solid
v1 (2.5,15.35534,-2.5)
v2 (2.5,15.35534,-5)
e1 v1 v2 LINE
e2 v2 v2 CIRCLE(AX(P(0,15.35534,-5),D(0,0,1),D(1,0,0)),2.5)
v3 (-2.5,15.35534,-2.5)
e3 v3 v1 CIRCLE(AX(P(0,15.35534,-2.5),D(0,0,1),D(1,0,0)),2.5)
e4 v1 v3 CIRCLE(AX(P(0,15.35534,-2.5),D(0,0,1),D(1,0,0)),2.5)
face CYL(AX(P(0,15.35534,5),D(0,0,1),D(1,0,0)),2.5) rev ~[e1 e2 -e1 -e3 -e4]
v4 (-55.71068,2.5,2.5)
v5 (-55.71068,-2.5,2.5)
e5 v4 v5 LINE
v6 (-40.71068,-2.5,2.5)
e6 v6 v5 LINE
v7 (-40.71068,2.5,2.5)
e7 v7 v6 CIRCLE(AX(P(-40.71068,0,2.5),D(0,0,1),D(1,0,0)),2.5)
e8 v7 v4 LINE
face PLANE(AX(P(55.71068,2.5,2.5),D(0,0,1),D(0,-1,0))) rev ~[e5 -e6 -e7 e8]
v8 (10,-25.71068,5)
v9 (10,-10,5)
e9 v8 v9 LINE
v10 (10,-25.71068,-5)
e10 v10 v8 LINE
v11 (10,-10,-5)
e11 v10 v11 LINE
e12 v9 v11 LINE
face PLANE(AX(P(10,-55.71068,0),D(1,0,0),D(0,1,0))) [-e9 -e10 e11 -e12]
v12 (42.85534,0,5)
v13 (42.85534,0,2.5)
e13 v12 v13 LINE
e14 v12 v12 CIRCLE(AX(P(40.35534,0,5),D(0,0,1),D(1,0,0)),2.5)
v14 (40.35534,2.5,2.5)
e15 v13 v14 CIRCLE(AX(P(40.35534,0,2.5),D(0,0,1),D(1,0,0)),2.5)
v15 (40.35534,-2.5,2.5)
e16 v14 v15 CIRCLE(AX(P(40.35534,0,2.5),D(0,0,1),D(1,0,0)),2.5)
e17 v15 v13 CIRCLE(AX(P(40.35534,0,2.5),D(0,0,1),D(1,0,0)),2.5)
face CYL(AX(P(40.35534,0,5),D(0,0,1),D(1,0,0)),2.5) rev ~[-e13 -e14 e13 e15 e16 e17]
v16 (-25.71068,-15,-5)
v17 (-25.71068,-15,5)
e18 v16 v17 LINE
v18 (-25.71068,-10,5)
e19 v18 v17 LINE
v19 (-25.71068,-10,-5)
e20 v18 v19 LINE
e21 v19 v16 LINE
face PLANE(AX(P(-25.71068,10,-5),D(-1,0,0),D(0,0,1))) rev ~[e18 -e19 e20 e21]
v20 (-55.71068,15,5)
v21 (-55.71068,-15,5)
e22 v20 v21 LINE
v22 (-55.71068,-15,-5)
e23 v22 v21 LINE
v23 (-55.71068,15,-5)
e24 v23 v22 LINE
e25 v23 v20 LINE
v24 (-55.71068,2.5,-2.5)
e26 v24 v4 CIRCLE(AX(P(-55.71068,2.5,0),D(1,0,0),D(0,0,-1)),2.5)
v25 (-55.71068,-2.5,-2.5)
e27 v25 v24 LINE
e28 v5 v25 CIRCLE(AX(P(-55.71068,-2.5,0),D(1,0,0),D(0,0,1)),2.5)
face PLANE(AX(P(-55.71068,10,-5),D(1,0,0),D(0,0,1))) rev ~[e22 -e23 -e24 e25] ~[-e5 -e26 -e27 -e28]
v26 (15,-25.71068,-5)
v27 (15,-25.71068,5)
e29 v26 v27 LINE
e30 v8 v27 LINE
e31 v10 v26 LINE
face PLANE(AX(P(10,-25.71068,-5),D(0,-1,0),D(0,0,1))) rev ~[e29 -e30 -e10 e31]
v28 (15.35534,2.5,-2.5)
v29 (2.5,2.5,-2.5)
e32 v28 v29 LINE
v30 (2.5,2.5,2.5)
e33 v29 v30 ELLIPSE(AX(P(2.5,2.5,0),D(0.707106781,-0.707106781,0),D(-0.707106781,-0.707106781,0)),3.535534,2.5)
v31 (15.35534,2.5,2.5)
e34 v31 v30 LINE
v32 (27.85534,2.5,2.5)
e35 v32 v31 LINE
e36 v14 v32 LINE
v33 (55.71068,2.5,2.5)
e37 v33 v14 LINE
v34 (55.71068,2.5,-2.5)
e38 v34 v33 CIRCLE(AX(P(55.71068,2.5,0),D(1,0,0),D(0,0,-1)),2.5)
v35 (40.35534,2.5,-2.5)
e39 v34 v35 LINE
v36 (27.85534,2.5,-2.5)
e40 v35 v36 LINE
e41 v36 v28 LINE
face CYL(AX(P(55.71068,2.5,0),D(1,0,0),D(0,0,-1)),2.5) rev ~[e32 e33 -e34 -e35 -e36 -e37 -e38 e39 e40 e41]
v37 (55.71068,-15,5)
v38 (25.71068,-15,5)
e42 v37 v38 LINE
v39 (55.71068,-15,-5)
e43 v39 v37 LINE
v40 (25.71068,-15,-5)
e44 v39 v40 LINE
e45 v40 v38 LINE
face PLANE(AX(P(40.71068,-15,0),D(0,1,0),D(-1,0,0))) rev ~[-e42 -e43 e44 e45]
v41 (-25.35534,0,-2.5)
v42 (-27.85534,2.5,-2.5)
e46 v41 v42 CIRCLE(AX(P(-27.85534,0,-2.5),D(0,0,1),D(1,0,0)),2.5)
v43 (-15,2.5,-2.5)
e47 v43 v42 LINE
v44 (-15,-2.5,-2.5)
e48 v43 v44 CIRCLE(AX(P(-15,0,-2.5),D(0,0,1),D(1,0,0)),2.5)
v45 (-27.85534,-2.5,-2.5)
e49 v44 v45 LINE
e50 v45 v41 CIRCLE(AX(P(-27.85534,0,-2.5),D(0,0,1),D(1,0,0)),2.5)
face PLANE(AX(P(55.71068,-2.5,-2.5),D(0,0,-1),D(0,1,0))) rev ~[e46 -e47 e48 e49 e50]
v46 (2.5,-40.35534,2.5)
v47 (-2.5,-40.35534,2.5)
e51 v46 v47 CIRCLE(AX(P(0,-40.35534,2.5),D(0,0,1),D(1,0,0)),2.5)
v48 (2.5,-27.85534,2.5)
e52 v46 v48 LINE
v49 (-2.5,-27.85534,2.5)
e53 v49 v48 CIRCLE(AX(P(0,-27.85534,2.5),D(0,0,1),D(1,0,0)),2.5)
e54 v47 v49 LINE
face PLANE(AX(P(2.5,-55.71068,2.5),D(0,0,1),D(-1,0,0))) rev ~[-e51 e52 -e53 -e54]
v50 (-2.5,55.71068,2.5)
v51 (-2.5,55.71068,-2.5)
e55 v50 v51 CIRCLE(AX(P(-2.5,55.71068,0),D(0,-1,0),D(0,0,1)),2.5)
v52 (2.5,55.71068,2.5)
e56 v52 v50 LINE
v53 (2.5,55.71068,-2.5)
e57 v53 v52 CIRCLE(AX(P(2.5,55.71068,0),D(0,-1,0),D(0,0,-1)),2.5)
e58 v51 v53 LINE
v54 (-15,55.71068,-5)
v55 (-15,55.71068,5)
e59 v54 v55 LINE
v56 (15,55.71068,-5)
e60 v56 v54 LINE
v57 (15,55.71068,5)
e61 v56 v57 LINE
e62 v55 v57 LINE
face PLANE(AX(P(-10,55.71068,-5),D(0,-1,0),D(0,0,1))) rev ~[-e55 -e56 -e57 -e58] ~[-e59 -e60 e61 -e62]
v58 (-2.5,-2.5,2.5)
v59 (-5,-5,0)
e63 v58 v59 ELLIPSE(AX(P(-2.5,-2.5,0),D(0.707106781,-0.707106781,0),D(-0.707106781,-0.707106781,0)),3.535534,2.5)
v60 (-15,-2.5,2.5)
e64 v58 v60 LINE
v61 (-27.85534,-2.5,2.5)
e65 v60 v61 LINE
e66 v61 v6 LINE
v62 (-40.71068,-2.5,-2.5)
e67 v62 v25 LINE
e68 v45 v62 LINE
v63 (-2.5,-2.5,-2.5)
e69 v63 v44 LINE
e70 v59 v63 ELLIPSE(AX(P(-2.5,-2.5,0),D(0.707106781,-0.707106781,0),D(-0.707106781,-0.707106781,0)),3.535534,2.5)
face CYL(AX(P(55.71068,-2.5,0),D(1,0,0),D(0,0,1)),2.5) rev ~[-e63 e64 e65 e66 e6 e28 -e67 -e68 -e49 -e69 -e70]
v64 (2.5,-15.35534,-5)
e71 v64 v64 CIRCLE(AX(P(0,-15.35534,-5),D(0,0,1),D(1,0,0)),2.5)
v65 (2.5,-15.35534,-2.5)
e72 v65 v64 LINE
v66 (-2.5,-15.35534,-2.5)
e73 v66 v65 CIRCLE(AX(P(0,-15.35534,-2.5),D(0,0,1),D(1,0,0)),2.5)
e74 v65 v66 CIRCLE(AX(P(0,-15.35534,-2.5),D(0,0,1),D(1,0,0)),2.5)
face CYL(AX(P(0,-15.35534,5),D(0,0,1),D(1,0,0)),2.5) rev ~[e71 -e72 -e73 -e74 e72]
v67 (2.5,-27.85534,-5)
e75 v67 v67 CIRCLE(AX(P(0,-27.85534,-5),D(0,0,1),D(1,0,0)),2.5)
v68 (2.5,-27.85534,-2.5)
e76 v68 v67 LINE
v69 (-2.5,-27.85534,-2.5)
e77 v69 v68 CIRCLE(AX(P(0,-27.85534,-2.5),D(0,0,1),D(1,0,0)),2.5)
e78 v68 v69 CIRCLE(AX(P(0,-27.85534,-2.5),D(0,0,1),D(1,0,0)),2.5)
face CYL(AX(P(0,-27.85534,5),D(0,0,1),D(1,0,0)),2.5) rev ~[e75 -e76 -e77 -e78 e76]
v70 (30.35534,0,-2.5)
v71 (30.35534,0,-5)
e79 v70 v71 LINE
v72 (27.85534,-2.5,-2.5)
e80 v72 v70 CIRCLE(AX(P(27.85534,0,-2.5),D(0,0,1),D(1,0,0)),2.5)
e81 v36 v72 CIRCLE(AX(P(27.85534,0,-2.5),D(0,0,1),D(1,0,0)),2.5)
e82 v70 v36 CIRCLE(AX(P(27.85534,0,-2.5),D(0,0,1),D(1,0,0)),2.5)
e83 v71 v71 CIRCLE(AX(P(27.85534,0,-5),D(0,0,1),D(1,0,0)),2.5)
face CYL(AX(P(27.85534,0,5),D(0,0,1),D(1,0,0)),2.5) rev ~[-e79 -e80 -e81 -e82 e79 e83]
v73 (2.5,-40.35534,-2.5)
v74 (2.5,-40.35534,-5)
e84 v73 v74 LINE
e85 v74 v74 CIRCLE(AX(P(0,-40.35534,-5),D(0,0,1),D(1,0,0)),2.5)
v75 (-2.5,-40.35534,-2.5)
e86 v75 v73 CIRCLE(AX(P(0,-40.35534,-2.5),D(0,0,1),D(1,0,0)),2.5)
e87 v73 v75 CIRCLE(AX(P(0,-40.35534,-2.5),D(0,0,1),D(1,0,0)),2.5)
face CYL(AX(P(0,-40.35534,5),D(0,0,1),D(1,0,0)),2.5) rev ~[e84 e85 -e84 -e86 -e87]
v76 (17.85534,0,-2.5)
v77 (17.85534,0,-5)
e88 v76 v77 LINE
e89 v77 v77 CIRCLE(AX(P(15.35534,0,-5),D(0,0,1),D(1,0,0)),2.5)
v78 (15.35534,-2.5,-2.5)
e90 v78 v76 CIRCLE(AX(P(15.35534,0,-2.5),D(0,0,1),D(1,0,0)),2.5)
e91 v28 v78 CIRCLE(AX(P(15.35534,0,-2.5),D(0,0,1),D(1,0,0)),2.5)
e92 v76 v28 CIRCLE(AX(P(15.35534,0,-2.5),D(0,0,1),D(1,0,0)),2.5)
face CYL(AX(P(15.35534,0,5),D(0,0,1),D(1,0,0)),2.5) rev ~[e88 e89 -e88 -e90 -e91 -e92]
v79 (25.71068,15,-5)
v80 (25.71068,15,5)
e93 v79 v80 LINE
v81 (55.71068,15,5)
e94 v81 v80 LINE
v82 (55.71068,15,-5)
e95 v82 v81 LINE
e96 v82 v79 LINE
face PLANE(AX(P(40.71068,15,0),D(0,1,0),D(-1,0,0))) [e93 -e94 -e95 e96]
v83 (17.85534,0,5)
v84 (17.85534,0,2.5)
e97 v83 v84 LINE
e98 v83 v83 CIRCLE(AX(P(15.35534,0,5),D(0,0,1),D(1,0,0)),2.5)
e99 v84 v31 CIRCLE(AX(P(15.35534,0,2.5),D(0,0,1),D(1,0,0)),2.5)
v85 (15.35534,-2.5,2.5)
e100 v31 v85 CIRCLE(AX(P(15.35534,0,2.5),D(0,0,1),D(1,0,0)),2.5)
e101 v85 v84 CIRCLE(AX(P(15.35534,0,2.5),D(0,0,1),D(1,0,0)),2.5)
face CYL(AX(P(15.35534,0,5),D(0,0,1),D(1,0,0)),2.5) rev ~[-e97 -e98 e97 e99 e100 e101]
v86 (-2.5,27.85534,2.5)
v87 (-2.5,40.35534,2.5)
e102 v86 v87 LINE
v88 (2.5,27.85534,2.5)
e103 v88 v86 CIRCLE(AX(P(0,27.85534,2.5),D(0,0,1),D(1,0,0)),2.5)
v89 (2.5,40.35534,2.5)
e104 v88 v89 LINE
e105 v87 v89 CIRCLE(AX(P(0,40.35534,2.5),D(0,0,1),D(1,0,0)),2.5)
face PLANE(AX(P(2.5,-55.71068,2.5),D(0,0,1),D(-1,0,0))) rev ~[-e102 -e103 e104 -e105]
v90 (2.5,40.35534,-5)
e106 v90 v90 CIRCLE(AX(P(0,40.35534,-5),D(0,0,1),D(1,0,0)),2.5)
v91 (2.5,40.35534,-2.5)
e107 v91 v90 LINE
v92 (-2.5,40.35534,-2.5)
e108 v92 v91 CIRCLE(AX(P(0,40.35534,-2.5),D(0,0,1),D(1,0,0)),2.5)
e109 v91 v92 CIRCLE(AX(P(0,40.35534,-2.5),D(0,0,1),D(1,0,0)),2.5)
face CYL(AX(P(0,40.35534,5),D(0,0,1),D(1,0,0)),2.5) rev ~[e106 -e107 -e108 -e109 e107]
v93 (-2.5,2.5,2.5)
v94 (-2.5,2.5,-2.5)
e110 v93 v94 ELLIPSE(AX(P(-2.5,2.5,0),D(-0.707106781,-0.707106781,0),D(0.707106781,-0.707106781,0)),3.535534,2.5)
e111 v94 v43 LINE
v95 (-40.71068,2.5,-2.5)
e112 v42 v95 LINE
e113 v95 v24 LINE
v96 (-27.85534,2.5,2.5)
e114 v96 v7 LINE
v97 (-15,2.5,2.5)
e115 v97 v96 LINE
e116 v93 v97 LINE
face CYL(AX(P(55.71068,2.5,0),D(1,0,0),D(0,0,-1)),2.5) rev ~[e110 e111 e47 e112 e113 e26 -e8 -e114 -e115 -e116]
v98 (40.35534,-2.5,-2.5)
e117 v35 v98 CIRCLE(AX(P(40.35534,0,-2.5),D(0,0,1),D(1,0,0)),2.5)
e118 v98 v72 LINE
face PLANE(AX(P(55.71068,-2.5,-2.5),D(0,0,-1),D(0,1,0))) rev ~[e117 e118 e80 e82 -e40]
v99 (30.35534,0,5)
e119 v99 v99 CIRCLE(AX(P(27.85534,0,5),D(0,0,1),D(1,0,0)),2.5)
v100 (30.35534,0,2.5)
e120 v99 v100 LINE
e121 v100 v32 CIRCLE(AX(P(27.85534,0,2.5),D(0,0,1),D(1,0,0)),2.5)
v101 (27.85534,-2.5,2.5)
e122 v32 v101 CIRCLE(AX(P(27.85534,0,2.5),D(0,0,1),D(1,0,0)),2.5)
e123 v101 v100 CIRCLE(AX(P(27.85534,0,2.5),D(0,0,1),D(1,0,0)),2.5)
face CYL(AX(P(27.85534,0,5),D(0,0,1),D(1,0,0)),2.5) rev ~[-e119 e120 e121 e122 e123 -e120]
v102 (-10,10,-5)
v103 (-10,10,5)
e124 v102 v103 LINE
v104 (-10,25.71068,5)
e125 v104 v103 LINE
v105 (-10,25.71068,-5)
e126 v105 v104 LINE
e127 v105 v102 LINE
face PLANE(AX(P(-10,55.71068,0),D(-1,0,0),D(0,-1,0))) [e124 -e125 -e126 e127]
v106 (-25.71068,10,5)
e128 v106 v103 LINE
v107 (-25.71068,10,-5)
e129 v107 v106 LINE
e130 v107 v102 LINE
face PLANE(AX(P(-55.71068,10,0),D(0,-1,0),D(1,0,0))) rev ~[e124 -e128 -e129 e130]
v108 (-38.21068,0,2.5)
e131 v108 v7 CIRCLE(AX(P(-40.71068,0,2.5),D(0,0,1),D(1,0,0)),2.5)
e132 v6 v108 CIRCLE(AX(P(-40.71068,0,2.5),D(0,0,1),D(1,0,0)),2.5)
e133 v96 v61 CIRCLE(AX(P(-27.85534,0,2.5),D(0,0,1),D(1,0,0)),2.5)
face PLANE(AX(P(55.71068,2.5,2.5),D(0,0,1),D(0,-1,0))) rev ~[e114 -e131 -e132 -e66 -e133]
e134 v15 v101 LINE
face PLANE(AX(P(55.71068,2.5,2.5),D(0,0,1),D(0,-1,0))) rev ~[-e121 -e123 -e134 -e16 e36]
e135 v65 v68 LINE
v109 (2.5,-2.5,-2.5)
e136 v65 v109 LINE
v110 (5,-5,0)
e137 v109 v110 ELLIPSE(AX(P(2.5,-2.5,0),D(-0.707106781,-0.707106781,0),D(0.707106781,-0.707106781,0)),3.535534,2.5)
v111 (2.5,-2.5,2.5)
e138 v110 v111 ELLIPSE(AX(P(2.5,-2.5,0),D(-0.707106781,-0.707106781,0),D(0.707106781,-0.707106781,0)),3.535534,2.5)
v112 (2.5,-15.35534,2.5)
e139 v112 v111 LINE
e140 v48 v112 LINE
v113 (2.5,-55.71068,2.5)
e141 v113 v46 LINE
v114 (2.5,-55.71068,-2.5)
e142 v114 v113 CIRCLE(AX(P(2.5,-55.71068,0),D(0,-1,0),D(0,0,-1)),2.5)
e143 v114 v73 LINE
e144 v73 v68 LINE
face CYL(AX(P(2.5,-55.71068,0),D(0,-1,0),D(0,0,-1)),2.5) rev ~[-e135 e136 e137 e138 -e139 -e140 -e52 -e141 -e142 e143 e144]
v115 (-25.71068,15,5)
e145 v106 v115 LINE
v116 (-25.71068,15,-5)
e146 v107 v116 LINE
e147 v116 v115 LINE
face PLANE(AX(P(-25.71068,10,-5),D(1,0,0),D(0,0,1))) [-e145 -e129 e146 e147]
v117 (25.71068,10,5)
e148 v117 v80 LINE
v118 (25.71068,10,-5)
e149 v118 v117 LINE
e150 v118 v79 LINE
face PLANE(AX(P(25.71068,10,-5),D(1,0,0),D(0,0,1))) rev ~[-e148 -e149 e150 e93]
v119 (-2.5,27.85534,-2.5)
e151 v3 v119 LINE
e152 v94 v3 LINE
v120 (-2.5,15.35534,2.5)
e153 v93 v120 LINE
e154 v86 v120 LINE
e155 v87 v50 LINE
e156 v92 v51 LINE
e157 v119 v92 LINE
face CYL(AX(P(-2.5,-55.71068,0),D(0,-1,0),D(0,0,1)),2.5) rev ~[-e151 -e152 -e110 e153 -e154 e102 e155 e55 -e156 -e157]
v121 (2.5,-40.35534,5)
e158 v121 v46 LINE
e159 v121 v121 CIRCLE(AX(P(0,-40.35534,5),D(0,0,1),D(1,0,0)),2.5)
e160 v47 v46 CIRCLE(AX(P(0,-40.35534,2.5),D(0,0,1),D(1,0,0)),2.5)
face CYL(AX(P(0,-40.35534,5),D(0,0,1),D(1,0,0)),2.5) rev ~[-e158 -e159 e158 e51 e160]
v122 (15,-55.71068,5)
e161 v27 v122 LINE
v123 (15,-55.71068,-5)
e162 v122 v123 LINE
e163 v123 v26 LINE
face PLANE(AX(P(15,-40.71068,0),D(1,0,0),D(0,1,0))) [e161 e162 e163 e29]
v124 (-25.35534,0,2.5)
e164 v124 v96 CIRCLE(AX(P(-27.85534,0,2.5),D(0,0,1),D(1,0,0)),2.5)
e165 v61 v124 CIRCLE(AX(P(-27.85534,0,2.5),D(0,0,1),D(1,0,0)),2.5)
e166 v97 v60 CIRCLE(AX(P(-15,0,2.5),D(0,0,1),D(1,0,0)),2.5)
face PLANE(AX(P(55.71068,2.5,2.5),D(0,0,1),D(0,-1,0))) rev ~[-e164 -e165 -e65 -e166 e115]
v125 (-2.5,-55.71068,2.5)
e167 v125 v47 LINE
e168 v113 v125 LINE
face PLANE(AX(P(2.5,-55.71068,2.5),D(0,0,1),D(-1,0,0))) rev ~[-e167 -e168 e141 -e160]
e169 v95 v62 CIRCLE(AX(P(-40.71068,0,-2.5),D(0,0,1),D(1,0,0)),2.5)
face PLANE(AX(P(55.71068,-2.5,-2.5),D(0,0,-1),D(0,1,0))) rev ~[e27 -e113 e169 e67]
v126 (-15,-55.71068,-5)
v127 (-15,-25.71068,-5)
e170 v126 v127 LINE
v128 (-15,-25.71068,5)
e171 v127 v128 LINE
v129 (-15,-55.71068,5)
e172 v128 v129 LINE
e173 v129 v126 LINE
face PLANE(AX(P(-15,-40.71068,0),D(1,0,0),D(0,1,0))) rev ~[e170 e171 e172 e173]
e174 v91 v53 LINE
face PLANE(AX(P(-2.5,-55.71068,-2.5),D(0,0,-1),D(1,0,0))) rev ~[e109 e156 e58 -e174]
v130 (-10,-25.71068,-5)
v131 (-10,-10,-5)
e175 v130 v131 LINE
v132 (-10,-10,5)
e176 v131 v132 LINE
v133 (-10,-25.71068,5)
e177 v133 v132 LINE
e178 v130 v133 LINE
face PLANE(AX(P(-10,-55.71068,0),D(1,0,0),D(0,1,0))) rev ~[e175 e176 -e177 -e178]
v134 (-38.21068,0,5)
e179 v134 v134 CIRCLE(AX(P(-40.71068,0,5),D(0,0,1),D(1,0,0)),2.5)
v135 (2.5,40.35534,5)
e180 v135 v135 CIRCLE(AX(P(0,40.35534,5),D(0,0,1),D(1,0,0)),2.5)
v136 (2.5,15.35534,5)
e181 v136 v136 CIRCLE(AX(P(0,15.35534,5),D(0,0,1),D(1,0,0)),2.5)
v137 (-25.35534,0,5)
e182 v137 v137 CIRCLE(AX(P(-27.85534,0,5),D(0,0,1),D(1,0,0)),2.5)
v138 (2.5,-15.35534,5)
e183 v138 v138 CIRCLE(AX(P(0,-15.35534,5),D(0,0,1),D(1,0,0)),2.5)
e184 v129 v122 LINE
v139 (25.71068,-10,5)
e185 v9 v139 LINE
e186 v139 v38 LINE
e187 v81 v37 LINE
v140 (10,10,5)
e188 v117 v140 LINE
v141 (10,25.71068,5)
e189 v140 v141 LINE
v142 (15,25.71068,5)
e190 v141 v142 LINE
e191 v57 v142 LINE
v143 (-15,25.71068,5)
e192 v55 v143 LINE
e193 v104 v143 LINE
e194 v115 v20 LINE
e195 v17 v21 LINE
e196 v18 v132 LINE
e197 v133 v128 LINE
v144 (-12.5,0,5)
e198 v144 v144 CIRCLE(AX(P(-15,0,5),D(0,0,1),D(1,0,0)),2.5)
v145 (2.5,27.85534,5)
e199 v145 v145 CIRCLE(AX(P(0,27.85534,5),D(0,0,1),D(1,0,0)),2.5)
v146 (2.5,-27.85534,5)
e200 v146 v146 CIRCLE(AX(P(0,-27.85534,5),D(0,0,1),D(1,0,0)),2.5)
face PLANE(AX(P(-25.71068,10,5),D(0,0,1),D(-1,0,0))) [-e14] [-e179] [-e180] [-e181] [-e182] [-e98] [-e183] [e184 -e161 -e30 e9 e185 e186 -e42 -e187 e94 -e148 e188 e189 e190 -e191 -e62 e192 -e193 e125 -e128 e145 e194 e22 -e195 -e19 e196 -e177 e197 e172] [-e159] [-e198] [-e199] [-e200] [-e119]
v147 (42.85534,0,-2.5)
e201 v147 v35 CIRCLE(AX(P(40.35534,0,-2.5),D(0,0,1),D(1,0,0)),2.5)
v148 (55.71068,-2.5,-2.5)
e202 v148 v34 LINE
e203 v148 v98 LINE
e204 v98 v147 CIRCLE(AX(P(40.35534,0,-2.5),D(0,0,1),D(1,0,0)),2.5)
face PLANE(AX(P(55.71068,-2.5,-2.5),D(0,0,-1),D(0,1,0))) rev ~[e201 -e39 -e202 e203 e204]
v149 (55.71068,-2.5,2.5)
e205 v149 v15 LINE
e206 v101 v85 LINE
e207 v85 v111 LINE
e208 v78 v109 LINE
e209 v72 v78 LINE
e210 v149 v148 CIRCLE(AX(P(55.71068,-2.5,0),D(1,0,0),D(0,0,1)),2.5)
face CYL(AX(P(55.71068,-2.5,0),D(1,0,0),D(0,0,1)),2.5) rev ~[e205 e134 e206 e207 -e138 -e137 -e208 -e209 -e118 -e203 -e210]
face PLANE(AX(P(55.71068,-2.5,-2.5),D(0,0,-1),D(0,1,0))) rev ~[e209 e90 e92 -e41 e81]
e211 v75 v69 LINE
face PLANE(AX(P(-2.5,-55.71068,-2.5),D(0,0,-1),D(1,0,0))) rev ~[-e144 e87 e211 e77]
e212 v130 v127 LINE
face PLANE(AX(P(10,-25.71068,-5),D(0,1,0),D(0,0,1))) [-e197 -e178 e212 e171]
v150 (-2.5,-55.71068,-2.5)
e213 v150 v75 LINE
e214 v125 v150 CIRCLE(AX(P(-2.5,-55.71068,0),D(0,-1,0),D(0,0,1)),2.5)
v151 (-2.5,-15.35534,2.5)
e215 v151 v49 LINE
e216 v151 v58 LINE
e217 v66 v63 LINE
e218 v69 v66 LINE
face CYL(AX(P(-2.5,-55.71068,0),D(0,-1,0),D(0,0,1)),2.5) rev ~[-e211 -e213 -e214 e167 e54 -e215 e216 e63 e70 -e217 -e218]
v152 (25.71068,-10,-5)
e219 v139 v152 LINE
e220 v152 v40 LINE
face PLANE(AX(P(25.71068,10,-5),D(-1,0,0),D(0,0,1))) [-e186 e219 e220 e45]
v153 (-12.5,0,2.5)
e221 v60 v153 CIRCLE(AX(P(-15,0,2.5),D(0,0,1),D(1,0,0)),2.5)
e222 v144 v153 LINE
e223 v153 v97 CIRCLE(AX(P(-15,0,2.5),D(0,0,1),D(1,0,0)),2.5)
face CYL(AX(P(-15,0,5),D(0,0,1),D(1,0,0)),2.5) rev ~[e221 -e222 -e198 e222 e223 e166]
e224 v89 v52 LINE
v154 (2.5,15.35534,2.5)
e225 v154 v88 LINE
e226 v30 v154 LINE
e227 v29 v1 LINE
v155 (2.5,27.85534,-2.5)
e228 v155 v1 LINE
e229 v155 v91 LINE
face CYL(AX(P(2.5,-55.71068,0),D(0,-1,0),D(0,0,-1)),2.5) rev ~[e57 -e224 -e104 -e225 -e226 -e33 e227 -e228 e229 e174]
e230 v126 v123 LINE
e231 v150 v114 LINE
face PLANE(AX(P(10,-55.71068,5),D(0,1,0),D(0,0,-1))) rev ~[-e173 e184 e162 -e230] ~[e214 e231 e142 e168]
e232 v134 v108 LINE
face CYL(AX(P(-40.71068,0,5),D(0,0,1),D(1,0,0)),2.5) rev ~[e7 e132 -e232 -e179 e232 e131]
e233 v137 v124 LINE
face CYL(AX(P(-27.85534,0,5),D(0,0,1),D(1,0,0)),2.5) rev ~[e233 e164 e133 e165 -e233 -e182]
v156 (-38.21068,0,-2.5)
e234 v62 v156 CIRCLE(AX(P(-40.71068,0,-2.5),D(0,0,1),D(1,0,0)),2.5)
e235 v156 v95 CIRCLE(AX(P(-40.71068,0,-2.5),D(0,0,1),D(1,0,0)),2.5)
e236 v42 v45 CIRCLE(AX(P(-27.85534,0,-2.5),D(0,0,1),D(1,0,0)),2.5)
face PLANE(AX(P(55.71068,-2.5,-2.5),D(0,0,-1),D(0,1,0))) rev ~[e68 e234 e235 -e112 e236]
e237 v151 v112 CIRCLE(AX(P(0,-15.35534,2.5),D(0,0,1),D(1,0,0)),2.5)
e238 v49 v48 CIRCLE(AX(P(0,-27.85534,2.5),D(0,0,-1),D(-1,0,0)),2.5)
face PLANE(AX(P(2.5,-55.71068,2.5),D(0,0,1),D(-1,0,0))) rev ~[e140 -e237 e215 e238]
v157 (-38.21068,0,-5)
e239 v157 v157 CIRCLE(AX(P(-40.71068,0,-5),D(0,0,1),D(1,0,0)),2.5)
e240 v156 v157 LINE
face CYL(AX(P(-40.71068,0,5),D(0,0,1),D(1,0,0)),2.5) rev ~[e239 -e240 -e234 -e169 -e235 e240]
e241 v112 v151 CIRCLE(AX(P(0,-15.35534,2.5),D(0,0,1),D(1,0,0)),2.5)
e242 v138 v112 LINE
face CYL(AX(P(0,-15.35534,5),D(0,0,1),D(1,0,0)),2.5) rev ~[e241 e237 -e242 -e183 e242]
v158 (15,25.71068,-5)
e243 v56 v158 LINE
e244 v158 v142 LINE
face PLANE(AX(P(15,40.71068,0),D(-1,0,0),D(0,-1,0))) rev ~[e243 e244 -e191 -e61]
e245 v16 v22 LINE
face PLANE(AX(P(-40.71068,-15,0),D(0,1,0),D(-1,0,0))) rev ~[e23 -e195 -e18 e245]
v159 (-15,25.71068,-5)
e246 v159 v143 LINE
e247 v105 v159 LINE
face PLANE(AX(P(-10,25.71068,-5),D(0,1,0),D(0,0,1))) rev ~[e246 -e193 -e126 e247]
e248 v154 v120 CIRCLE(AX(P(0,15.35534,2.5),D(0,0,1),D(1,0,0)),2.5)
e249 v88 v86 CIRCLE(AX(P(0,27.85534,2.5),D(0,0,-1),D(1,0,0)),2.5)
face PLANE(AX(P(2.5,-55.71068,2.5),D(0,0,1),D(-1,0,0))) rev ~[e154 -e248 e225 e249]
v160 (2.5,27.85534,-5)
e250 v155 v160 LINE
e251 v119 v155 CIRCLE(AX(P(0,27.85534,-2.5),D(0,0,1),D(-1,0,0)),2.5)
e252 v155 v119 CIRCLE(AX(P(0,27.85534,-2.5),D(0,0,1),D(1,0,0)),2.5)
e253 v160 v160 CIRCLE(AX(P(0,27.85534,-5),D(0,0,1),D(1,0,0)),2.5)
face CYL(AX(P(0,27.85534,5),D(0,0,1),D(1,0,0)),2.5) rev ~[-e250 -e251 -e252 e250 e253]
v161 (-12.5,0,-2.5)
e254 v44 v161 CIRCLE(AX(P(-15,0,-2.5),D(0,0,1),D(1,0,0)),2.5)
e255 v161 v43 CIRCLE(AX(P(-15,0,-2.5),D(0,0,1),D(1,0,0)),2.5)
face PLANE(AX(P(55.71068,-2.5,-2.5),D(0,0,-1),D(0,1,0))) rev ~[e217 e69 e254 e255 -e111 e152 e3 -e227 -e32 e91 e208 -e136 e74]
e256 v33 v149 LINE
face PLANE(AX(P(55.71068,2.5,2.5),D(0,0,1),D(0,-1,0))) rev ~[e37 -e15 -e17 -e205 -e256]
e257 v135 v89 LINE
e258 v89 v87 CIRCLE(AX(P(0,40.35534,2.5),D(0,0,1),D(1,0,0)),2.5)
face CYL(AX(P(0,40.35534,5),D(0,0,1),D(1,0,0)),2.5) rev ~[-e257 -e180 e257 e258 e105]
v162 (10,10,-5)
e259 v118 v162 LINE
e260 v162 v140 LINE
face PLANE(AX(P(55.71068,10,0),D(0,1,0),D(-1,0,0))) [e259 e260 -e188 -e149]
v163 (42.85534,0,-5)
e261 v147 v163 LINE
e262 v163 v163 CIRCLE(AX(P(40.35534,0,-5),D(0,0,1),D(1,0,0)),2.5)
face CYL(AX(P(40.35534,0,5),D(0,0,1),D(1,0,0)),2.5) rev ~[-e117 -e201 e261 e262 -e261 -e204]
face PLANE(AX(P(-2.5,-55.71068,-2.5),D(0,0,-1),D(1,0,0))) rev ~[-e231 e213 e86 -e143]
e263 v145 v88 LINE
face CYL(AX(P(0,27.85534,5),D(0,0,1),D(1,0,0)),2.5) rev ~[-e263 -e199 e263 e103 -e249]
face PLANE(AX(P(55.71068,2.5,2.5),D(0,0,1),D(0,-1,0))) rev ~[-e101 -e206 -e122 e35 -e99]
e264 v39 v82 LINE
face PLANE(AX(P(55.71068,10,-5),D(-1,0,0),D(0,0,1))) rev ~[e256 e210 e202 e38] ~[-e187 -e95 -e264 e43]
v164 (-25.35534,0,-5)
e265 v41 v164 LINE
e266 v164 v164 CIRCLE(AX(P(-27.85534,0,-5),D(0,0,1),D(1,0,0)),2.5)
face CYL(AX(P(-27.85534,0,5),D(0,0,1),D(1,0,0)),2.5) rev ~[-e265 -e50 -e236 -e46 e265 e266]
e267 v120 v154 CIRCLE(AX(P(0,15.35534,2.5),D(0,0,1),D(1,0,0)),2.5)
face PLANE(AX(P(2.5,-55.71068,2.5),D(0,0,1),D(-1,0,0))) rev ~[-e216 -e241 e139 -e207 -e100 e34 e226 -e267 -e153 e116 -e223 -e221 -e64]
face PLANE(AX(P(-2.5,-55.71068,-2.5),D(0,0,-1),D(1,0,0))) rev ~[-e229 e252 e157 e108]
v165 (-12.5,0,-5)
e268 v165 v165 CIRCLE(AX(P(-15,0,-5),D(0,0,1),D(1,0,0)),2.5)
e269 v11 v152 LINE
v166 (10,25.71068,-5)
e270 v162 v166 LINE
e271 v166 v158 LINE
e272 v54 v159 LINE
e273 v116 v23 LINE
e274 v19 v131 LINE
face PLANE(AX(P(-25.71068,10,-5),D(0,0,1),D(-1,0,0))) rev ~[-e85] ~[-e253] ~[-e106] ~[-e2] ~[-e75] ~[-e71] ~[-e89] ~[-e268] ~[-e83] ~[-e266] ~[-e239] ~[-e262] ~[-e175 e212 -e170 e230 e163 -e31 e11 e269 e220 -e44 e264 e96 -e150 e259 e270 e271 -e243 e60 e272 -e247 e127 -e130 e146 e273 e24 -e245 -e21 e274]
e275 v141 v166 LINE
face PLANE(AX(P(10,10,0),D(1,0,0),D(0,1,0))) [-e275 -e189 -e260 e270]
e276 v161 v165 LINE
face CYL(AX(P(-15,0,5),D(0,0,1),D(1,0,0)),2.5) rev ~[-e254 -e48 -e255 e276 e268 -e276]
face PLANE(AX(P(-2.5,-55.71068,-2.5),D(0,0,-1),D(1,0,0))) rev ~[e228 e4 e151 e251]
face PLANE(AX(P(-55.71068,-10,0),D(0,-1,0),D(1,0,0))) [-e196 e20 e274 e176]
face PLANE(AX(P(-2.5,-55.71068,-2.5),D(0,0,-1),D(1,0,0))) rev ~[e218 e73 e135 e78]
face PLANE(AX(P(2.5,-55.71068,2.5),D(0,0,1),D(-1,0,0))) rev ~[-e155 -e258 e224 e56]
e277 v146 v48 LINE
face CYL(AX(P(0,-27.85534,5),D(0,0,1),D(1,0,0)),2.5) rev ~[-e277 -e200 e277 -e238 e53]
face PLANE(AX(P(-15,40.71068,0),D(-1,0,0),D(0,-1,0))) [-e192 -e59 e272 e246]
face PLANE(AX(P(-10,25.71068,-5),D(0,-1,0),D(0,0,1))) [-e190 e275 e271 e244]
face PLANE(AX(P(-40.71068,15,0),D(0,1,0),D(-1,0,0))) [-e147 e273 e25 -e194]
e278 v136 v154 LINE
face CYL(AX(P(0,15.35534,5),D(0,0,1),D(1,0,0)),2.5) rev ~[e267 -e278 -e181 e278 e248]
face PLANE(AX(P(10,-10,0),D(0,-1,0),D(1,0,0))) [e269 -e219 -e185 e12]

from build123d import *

# Parameters (mm, degrees)
F0_W           = 45.71068
F0_H           = 20
F0_W_2         = 20
F0_H_2         = 45.71068
F1_DEPTH       = 5
F4_DEPTH       = 120
F6_DEPTH       = 5
F6_DEPTH_BACK  = 25
F7_W           = 30
F7_H           = 10
F8_DEPTH       = 5
F8_DEPTH_BACK  = 25
F9_W           = 30
F9_H           = 10
F10_DEPTH      = 5
F10_DEPTH_BACK = 25
F11_W          = 30
F11_H          = 10
F12_DEPTH      = 5
F12_DEPTH_BACK = 25
F13_R          = 2.5
F14_DEPTH      = 10
F15_DEPTH      = 116.7
F16_DEPTH      = 135


with BuildPart() as f1:
    # F0 (on Top) → F1 (new body, symmetric)
    with BuildSketch(Plane.XY):
        with Locations((32.85534, 0)):
            Rectangle(F0_W, F0_H)
        Rectangle(F0_W_2, F0_H)
        with Locations((0, 32.85534)):
            Rectangle(F0_W_2, F0_H_2)
        with Locations((-32.85534, 0)):
            Rectangle(F0_W, F0_H)
        with Locations((0, -32.85534)):
            Rectangle(F0_W_2, F0_H_2)
    extrude(amount=F1_DEPTH, both=True)

    # F2 (on face) → F4 (cut)
    with BuildSketch(Plane.XZ.offset(55.71068)):
        with BuildLine():
            Line((-2.5, -2.5), (2.5, -2.5))
            ThreePointArc((2.5, -2.5), (5, 0), (2.5, 2.5))
            Line((2.5, 2.5), (-2.5, 2.5))
            ThreePointArc((-2.5, 2.5), (-5, 0), (-2.5, -2.5))
        make_face()
    extrude(amount=-F4_DEPTH, mode=Mode.SUBTRACT)

    # F5 (on face) → F6 (join, two sides)
    with BuildSketch(Plane.YZ.offset(10)) as f6_sk:
        Polygon((-25.71068, 5), (-55.71068, 5), (-55.71068, 0), (-55.71068, -5), (-25.71068, -5), align=None)
    extrude(amount=F6_DEPTH)
    extrude(f6_sk.sketch, amount=-F6_DEPTH_BACK)

    # F7 (on face) → F8 (join, two sides)
    with BuildSketch(Plane(origin=(-10, 0, 0), x_dir=(0, -1, 0), z_dir=(-1, 0, 0))) as f8_sk:
        with Locations((-40.71068, 0)):
            Rectangle(F7_W, F7_H)
    extrude(amount=F8_DEPTH)
    extrude(f8_sk.sketch, amount=-F8_DEPTH_BACK)

    # F9 (on face) → F10 (join, two sides)
    with BuildSketch(Plane(origin=(0, 10, 0), x_dir=(-1, 0, 0), z_dir=(0, 1, 0))) as f10_sk:
        with Locations((-40.71068, 0)):
            Rectangle(F9_W, F9_H)
    extrude(amount=F10_DEPTH)
    extrude(f10_sk.sketch, amount=-F10_DEPTH_BACK)

    # F11 (on face) → F12 (join, two sides)
    with BuildSketch(Plane(origin=(0, 10, 0), x_dir=(-1, 0, 0), z_dir=(0, 1, 0))) as f12_sk:
        with Locations((40.71068, 0)):
            Rectangle(F11_W, F11_H)
    extrude(amount=F12_DEPTH)
    extrude(f12_sk.sketch, amount=-F12_DEPTH_BACK)

    # F13 (on face) → F14 (cut)
    with BuildSketch(Plane.XY.offset(5)):
        with Locations((-27.85534, 0)):
            Circle(F13_R)
        with Locations((-15, 0)):
            Circle(F13_R)
        with Locations((-40.71068, 0)):
            Circle(F13_R)
        with Locations((27.85534, 0)):
            Circle(F13_R)
        with Locations((40.35534, 0)):
            Circle(F13_R)
        with Locations((15.35534, 0)):
            Circle(F13_R)
        with Locations((0, 27.85534)):
            Circle(F13_R)
        with Locations((0, 40.35534)):
            Circle(F13_R)
        with Locations((0, 15.35534)):
            Circle(F13_R)
        with Locations((0, -27.85534)):
            Circle(F13_R)
        with Locations((0, -15.35534)):
            Circle(F13_R)
        with Locations((0, -40.35534)):
            Circle(F13_R)
    extrude(amount=-F14_DEPTH, mode=Mode.SUBTRACT)

    # F2 (on face) → F15 (cut)
    with BuildSketch(Plane.XZ.offset(55.71068)):
        with BuildLine():
            Line((-2.5, -2.5), (2.5, -2.5))
            ThreePointArc((2.5, -2.5), (5, 0), (2.5, 2.5))
            Line((2.5, 2.5), (-2.5, 2.5))
            ThreePointArc((-2.5, 2.5), (-5, 0), (-2.5, -2.5))
        make_face()
    extrude(amount=-F15_DEPTH, mode=Mode.SUBTRACT)

    # F3 (on face) → F16 (cut)
    with BuildSketch(Plane.YZ.offset(55.71068)):
        with BuildLine():
            Line((-2.5, -2.5), (2.5, -2.5))
            ThreePointArc((2.5, -2.5), (5, 0), (2.5, 2.5))
            Line((2.5, 2.5), (-2.5, 2.5))
            ThreePointArc((-2.5, 2.5), (-5, 0), (-2.5, -2.5))
        make_face()
    extrude(amount=-F16_DEPTH, mode=Mode.SUBTRACT)


solid = f1.part
